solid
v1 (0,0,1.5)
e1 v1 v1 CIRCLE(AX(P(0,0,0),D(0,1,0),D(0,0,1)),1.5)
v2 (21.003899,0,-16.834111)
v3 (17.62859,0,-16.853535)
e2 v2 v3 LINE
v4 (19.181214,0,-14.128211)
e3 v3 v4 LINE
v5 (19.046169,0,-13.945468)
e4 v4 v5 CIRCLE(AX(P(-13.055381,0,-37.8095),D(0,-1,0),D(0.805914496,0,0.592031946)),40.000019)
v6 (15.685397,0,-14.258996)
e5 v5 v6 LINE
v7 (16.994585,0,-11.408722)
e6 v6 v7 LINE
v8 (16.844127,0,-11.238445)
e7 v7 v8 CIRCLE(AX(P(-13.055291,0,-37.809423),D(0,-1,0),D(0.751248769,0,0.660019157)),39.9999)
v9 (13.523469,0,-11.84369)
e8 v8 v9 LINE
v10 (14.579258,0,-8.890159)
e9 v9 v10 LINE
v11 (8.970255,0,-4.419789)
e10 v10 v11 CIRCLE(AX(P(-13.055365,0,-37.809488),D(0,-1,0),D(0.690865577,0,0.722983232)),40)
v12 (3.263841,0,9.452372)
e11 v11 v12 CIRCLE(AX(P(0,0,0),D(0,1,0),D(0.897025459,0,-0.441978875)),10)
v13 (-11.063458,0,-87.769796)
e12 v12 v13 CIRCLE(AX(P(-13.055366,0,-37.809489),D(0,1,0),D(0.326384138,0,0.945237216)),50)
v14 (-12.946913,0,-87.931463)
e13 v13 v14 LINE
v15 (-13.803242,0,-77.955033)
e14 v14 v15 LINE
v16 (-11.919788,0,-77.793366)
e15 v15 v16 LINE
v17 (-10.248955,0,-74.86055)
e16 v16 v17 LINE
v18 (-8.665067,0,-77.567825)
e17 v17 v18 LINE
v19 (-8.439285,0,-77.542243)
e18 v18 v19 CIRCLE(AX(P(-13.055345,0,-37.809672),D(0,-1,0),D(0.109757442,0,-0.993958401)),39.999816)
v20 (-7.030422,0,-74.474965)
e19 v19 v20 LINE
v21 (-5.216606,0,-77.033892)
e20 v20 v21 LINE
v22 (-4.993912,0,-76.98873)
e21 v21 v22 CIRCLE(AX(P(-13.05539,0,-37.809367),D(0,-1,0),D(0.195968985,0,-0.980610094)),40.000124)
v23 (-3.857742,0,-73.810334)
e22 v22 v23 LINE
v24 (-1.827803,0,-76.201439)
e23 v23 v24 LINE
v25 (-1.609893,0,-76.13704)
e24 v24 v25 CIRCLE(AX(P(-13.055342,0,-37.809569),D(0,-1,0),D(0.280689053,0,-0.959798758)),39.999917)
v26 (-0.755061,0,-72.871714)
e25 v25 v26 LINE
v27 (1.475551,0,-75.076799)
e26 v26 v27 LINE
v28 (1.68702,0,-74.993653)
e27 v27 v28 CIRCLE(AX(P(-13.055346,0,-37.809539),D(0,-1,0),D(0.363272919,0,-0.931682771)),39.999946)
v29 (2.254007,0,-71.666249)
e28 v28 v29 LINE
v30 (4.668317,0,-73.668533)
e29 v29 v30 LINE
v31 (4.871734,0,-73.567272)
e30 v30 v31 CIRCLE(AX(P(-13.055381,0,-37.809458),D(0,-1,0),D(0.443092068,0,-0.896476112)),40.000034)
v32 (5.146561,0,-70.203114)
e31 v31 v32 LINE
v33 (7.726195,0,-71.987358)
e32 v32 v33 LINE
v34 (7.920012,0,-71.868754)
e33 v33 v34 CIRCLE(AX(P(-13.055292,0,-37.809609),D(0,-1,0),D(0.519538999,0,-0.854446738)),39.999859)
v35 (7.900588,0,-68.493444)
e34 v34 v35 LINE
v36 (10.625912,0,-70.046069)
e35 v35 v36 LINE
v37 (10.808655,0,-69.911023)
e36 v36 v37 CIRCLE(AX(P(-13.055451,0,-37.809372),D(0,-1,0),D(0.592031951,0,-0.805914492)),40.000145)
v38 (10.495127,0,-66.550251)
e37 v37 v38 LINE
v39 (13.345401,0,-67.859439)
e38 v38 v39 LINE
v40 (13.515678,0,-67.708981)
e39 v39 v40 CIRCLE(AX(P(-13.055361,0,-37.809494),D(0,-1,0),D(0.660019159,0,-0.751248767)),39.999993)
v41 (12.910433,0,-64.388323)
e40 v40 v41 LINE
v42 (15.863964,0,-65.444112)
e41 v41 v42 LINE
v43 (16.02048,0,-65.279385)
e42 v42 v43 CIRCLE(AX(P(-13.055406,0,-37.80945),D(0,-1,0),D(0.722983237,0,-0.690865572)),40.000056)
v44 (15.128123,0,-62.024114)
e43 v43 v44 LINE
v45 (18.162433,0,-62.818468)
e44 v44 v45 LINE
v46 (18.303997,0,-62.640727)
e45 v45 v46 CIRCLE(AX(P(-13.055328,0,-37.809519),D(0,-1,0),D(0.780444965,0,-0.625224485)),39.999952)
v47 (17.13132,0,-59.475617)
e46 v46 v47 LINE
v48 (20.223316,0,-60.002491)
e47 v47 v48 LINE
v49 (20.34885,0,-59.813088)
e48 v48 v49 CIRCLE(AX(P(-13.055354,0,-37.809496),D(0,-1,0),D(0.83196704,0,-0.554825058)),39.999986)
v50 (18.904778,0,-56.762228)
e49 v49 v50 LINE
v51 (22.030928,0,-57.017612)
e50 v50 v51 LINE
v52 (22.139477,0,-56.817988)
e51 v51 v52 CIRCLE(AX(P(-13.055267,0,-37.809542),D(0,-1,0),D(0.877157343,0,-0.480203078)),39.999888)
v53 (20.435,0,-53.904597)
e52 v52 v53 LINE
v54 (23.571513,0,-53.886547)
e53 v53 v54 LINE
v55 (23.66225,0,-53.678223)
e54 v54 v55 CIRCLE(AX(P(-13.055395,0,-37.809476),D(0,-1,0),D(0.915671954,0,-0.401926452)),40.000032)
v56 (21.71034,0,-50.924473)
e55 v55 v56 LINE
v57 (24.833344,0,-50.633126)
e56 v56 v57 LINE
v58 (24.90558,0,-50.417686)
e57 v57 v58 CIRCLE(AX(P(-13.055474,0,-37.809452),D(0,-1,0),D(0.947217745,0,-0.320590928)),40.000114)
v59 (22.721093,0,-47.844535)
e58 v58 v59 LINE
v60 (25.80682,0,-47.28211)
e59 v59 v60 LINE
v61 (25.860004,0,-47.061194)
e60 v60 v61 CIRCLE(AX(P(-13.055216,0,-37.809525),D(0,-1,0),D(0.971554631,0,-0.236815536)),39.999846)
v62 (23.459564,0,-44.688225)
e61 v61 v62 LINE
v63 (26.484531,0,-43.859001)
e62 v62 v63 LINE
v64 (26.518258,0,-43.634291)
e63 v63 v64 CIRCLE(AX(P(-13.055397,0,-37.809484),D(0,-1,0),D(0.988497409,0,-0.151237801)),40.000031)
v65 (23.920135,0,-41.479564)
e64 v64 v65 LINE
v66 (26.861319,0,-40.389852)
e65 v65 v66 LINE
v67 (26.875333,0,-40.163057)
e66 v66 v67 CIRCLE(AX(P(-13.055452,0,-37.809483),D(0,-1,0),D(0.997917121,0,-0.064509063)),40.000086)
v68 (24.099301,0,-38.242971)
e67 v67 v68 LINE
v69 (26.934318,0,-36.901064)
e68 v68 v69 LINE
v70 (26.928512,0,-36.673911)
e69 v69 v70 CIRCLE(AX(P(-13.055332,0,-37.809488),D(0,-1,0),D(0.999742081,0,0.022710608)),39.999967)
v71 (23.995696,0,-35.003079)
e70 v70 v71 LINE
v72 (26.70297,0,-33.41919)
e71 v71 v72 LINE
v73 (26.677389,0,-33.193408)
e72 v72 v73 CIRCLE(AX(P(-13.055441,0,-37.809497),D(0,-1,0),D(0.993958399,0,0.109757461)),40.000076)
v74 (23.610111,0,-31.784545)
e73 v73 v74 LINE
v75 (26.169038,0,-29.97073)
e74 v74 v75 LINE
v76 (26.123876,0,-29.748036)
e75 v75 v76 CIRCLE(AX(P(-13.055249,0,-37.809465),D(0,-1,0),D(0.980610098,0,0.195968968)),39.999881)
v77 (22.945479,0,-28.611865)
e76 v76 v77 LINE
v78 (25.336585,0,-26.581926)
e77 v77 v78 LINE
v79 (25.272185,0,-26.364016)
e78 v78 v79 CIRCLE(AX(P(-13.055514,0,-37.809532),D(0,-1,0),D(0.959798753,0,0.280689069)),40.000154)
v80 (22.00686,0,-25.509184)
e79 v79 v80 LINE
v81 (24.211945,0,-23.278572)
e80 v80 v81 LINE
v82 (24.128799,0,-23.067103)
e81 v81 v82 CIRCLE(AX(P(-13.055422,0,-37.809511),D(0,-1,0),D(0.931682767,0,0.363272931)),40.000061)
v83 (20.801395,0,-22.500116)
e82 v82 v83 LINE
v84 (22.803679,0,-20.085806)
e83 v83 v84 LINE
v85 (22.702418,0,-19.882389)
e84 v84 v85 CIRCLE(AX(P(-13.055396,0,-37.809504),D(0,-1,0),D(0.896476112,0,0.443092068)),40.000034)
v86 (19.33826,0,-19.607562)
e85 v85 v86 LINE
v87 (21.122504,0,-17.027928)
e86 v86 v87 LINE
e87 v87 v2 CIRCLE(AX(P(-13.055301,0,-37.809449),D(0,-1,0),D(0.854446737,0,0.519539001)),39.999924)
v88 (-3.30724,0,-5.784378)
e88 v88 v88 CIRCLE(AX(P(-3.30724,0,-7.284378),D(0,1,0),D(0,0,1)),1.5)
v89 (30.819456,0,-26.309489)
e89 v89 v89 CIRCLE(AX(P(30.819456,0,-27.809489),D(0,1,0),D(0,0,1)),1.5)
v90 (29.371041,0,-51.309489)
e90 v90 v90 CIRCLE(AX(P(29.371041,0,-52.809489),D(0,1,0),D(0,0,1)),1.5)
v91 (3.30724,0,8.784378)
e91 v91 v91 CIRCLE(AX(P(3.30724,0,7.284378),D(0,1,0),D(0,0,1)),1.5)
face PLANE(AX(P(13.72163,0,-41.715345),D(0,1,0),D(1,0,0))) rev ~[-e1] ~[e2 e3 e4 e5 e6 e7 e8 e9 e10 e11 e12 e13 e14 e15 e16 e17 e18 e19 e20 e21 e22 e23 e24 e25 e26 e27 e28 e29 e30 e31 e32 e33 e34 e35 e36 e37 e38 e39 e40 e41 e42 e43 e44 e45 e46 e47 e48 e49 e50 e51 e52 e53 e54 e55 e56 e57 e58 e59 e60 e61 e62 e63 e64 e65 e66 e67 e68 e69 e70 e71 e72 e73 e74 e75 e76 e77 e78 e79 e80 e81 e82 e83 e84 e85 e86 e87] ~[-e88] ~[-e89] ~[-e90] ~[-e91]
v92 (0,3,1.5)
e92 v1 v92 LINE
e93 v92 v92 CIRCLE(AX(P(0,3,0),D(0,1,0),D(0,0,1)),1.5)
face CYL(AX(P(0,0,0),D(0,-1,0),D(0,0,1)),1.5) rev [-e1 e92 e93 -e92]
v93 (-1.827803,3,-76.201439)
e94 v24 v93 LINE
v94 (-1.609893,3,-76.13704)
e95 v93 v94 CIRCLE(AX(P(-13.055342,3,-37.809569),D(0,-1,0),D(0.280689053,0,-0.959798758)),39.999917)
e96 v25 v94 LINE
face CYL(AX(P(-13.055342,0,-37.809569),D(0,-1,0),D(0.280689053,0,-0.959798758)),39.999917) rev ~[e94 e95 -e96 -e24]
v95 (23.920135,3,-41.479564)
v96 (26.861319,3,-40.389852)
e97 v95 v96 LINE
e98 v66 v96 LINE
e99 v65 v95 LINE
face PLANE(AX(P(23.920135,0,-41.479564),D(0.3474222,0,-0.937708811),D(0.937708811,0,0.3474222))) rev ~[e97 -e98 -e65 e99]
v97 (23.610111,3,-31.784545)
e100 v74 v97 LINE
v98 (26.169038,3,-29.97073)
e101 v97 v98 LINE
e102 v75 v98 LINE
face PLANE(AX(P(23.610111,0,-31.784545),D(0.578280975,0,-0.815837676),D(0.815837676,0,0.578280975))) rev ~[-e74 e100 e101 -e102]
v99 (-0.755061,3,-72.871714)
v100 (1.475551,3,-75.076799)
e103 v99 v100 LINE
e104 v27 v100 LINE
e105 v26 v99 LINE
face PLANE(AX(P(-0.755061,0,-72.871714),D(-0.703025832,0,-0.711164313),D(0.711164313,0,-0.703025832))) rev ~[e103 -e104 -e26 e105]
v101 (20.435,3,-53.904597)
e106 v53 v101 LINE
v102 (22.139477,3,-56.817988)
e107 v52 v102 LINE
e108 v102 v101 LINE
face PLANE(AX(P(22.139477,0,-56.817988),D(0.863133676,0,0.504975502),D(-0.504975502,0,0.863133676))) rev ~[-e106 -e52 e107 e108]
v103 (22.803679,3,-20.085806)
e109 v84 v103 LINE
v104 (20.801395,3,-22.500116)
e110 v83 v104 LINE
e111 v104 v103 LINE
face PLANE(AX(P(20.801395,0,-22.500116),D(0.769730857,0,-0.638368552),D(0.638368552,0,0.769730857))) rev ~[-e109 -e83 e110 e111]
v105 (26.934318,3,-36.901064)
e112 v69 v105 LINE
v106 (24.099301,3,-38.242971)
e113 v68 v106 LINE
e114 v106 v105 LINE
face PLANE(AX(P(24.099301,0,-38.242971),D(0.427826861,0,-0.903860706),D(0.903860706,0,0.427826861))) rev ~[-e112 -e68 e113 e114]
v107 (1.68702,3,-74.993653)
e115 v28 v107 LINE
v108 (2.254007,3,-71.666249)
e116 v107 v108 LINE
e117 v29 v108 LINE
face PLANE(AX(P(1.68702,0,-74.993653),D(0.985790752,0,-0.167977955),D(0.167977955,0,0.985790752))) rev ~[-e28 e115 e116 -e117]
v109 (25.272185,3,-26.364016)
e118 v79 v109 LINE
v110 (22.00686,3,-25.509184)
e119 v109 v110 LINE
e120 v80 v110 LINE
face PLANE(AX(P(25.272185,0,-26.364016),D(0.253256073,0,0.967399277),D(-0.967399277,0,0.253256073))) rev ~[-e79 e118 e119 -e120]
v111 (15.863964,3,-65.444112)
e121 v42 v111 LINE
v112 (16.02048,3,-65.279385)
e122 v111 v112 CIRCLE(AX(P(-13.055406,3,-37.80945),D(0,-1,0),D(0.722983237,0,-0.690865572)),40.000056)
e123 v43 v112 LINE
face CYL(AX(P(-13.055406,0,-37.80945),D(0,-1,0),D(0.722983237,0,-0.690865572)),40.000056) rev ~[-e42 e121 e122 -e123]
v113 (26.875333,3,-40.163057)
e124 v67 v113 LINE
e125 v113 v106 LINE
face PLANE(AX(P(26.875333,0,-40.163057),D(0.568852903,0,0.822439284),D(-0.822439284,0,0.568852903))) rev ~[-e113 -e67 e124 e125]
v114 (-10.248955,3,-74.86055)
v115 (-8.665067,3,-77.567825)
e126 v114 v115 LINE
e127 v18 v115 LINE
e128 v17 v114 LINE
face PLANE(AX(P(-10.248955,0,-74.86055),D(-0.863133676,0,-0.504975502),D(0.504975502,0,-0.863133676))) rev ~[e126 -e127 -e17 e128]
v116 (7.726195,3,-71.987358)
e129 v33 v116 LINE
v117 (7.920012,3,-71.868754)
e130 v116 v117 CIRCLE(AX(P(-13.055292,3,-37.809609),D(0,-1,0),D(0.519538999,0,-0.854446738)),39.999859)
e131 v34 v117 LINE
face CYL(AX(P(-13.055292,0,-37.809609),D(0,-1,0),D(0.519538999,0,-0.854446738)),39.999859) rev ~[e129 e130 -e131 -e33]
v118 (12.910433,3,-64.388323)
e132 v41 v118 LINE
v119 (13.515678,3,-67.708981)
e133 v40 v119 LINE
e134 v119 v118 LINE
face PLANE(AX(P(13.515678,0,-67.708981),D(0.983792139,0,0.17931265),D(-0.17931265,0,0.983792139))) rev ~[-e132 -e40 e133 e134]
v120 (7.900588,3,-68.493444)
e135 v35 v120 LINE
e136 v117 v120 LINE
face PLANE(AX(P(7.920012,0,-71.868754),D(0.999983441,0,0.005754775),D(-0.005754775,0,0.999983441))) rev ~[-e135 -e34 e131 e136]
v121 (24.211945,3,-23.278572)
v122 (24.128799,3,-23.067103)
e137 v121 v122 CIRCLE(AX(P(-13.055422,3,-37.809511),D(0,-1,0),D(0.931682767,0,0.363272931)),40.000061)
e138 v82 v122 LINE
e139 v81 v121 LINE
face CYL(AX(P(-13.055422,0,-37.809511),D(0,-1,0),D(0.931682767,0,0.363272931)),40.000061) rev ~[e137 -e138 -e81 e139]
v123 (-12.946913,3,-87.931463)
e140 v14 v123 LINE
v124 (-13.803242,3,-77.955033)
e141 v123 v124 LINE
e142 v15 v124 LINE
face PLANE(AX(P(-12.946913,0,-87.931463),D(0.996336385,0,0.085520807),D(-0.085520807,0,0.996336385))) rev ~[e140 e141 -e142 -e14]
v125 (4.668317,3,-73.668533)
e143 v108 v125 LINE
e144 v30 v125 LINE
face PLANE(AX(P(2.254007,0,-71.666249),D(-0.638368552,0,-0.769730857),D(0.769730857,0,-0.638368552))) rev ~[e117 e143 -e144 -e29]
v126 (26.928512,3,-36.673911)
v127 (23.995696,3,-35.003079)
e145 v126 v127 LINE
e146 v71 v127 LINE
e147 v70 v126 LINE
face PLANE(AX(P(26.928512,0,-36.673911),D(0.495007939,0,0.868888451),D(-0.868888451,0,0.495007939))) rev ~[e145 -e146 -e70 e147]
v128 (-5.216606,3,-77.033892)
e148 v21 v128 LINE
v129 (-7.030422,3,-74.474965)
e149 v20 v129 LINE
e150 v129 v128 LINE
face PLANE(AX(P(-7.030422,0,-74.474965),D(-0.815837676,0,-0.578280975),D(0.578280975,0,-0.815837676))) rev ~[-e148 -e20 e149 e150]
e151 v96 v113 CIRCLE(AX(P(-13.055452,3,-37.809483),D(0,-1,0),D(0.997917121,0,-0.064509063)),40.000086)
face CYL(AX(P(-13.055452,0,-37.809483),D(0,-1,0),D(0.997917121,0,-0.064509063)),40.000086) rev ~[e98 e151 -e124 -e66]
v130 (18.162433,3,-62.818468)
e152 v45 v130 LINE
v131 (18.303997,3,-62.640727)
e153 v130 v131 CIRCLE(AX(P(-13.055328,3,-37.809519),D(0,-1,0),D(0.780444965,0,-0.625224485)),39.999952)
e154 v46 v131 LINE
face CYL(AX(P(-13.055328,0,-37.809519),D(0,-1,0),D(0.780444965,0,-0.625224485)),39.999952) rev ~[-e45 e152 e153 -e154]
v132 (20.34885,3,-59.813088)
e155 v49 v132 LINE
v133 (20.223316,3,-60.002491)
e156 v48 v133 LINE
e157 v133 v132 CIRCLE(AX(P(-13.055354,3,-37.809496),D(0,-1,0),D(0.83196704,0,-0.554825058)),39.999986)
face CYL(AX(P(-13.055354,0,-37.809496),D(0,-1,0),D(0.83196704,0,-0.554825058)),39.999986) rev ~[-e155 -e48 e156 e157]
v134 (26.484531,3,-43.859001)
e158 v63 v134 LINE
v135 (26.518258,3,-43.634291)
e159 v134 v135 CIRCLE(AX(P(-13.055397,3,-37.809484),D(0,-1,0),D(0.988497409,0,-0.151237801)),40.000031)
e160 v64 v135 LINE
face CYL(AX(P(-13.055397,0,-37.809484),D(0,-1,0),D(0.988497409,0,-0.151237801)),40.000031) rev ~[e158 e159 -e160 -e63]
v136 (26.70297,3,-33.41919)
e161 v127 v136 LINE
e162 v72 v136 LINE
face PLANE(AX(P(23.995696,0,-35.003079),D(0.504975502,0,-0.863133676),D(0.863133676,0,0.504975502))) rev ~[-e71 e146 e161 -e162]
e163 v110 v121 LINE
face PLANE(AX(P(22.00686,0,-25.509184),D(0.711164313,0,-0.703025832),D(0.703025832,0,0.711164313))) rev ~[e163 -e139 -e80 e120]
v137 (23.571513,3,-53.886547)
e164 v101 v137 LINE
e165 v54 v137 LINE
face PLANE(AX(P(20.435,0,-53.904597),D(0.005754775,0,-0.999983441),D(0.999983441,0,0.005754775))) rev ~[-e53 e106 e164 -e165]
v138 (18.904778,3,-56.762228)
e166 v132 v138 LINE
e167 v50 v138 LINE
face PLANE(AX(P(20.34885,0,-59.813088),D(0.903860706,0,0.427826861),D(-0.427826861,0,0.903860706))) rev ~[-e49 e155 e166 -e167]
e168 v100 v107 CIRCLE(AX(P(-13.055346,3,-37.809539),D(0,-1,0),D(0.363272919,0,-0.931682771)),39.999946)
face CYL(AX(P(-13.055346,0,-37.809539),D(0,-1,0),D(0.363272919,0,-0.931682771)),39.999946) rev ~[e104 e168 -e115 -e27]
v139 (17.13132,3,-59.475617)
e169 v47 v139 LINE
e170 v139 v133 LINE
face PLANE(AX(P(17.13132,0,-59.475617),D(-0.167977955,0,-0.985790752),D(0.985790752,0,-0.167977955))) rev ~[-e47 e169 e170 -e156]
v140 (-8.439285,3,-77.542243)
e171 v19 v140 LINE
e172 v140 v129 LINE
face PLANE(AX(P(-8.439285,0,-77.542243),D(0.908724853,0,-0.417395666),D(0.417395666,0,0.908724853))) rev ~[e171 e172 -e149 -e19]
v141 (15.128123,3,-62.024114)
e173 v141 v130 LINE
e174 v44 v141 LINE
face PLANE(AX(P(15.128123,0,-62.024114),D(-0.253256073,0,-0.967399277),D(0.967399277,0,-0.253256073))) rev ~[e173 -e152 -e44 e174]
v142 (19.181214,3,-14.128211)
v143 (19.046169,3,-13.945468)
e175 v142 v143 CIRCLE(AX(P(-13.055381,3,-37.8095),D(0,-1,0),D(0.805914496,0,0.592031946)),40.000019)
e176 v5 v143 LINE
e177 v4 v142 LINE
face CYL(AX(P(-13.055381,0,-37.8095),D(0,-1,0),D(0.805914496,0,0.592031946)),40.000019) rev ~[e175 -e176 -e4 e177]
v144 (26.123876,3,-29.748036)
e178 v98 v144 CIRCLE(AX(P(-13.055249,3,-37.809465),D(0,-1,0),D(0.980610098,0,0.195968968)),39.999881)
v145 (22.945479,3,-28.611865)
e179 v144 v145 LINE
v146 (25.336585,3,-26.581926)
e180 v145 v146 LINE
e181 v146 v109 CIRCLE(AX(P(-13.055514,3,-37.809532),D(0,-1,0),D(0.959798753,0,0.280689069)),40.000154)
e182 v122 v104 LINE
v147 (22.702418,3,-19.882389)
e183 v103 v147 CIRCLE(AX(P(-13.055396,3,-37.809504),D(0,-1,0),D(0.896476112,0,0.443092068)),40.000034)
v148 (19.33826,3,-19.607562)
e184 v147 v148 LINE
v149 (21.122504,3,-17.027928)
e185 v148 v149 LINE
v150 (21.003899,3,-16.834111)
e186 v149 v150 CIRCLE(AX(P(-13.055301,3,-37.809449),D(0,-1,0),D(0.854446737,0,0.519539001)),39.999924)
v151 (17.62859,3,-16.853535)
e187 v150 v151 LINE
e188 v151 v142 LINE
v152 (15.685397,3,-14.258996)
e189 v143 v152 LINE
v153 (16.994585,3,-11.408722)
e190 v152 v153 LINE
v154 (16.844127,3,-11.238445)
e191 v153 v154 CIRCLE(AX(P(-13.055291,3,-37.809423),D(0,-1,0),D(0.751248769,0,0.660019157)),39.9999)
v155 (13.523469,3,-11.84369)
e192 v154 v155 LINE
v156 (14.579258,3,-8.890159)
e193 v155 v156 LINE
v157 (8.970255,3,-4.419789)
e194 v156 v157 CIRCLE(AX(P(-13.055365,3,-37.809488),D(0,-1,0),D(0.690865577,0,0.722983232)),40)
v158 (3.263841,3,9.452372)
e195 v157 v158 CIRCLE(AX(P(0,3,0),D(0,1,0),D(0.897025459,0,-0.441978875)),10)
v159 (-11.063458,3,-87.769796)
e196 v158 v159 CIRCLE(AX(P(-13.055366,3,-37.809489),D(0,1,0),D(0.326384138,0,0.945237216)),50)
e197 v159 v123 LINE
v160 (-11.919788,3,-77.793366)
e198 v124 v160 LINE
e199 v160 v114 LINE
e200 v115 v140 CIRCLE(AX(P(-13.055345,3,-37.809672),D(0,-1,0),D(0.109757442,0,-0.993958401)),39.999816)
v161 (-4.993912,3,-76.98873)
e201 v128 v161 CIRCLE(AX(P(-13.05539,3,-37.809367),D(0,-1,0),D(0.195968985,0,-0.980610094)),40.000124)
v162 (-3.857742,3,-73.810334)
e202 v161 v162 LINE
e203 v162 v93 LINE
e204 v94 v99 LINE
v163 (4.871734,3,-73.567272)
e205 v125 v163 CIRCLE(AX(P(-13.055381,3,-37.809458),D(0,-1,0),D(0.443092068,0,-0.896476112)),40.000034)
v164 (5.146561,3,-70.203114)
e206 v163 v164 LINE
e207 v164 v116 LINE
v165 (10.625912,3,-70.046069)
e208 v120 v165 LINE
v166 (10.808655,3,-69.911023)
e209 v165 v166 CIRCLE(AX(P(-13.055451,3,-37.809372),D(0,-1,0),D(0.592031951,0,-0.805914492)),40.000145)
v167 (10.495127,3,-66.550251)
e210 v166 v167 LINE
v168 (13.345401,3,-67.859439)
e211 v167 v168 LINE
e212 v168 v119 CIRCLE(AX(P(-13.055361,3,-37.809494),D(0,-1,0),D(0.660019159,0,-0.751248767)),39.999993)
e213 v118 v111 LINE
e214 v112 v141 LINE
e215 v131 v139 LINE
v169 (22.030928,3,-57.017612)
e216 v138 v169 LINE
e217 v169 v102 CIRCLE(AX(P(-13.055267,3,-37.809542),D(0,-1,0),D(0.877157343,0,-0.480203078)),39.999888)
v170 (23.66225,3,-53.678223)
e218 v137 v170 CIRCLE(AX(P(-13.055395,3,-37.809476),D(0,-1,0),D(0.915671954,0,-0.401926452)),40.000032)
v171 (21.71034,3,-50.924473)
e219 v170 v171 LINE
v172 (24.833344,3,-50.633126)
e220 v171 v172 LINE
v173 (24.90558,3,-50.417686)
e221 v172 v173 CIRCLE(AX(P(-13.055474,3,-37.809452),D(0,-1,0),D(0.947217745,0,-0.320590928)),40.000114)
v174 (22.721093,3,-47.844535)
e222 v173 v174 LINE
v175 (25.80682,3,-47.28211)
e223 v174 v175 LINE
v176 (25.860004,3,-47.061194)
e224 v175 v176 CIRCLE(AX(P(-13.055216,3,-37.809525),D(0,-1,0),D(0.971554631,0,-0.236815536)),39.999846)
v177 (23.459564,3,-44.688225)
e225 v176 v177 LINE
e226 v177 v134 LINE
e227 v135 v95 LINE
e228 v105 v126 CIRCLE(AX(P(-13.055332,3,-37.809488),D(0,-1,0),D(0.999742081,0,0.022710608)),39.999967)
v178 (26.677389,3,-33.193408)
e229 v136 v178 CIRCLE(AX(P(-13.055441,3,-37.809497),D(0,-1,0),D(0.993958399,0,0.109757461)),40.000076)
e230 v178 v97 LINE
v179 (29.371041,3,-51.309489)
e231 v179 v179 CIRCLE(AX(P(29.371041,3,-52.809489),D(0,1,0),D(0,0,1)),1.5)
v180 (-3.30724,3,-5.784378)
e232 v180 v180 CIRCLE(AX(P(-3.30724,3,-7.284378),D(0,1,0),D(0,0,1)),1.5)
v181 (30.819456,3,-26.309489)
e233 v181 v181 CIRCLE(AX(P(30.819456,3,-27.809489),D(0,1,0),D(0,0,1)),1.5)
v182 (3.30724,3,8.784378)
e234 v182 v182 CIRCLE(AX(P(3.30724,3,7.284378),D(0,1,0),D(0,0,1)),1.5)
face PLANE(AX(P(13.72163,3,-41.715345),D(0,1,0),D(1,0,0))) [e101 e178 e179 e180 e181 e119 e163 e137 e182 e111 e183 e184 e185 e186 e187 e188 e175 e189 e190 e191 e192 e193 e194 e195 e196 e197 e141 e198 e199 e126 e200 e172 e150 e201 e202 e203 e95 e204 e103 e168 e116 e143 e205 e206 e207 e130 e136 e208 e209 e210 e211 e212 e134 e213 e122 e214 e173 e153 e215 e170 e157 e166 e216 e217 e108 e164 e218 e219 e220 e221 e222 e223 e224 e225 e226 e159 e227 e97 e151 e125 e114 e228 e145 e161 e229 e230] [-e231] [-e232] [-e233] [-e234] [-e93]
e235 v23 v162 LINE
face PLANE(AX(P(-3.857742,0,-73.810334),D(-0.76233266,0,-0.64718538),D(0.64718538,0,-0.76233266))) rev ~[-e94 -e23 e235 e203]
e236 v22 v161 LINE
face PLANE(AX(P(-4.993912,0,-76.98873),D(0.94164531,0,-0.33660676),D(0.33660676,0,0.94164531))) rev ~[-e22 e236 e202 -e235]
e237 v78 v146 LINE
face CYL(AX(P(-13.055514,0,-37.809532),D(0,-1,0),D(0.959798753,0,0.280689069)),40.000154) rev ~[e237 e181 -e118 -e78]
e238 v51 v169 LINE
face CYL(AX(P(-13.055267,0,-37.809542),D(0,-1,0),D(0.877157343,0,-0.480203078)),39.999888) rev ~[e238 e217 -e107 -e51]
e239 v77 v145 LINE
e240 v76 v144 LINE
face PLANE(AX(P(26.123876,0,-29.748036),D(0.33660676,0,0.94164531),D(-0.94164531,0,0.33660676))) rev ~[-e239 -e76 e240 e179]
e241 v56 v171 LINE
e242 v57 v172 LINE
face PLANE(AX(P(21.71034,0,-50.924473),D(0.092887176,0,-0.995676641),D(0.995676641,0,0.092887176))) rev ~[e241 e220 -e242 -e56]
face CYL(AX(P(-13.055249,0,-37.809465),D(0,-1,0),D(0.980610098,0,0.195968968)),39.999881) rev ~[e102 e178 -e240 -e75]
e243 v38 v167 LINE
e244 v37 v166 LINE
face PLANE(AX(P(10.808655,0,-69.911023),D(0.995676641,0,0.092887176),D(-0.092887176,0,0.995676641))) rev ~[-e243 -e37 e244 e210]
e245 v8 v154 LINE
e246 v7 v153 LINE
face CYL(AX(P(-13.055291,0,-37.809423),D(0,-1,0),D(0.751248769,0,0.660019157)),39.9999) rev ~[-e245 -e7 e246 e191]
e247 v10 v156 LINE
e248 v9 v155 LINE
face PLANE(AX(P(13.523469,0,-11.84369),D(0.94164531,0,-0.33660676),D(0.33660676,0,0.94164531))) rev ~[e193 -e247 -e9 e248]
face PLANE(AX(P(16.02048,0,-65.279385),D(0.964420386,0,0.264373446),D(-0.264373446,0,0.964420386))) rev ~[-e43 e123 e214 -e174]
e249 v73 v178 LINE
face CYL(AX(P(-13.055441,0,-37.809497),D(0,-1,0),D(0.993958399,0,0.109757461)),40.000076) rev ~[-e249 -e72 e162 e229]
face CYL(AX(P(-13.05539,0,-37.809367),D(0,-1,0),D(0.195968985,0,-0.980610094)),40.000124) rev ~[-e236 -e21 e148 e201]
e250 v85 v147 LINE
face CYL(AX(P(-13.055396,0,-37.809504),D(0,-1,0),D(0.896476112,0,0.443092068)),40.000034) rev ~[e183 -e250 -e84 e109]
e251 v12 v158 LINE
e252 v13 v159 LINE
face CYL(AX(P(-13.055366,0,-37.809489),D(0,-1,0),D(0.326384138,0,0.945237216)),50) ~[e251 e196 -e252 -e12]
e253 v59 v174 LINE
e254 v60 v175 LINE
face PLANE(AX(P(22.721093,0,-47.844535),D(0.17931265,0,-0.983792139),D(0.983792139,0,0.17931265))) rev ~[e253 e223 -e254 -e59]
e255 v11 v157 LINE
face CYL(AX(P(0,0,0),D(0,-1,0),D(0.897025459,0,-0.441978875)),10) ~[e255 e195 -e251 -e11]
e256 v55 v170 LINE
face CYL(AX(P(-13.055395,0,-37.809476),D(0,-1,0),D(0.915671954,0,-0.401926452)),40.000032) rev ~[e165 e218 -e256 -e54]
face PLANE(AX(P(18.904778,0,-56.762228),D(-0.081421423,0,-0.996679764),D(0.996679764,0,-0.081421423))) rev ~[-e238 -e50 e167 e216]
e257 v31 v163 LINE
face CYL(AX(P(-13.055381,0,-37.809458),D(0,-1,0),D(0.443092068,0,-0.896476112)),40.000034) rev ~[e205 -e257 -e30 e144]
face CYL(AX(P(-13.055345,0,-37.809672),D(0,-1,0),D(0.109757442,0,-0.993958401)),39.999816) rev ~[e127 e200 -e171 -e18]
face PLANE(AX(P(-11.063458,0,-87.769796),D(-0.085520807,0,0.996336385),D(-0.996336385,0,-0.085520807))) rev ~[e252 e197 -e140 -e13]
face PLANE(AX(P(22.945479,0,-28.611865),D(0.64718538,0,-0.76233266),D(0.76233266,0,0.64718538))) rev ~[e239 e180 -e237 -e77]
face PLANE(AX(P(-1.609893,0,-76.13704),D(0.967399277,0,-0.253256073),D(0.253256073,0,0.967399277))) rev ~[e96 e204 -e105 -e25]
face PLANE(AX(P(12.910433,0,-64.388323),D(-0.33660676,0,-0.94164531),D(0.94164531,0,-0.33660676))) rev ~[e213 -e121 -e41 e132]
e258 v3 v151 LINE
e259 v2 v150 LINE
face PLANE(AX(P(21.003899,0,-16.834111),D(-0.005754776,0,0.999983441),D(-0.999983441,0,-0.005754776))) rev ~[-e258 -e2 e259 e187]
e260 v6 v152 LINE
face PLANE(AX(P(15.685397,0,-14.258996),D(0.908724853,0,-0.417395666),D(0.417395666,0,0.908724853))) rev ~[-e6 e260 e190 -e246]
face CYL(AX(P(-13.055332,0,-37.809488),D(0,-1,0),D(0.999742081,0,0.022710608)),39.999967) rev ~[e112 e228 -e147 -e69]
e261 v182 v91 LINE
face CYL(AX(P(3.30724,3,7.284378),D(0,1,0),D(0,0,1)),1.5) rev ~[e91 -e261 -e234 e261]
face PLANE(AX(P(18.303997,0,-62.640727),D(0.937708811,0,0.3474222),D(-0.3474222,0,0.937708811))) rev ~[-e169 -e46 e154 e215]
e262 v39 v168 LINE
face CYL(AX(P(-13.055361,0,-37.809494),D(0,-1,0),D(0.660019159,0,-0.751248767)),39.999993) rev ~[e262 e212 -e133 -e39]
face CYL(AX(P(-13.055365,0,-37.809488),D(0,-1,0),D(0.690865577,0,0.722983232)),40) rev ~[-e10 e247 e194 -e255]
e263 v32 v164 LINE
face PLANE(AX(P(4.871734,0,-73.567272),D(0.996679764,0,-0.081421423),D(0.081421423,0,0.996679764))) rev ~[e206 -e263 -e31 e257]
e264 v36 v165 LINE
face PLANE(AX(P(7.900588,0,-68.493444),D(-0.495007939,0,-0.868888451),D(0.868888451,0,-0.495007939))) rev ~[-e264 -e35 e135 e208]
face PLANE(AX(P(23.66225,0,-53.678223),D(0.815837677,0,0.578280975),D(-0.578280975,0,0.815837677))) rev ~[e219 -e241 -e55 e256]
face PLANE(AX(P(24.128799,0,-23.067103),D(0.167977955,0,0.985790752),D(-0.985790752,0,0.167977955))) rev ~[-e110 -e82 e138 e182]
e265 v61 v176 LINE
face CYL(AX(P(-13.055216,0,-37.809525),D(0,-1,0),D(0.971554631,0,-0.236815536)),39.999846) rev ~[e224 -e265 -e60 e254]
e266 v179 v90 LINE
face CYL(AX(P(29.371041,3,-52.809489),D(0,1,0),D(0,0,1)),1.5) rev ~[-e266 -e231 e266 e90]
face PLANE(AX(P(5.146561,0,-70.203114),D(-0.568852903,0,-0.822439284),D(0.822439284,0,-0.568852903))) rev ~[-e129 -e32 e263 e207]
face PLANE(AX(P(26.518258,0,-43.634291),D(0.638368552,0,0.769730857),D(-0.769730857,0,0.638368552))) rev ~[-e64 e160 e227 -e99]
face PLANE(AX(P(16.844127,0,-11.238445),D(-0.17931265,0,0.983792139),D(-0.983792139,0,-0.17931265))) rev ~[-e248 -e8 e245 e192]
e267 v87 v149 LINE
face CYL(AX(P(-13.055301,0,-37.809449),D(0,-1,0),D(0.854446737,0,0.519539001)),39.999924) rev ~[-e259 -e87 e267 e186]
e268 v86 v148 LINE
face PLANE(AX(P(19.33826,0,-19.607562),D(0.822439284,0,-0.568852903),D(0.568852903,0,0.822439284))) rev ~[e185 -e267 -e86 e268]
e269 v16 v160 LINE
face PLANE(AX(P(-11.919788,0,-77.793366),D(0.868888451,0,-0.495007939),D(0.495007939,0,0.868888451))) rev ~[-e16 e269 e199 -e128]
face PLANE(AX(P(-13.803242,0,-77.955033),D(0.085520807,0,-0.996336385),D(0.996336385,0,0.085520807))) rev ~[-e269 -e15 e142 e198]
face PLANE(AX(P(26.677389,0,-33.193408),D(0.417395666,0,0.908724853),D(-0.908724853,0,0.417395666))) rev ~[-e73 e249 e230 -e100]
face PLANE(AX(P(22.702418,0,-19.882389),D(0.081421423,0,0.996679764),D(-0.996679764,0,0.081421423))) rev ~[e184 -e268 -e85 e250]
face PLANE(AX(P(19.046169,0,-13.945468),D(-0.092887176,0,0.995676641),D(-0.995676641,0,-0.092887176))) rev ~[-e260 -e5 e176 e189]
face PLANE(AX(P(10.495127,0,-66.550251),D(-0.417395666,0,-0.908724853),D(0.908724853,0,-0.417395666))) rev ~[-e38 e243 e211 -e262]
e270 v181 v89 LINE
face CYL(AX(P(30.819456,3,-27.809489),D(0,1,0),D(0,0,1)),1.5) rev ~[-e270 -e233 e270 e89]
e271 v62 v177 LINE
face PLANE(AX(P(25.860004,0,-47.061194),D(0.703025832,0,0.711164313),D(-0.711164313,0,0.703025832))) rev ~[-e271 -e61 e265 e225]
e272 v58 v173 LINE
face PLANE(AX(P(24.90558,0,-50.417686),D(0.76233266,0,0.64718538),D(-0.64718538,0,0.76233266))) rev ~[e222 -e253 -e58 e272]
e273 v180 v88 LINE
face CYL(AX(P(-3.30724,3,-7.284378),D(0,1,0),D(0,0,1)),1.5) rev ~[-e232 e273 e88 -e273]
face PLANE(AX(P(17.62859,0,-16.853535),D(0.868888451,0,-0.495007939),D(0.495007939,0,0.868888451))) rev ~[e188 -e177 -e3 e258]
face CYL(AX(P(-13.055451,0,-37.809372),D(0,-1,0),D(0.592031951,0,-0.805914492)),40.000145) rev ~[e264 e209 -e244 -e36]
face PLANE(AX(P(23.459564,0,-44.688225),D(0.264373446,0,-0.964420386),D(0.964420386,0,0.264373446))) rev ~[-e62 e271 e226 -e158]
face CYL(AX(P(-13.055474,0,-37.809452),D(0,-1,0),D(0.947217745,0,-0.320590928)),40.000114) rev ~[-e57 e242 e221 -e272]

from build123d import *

# Parameters (mm, degrees)
SKETCH_1_R          = 1.5
EXTRUDE_1_DEPTH     = 3
SKETCH_2_R          = 1.5
CUT_EXTRUDE_1_DEPTH = 35
SKETCH_3_R          = 1.5
CUT_EXTRUDE_2_DEPTH = 10


with BuildPart() as part:
    # 草图1 → 凸台-拉伸1 (new body)
    with BuildSketch(Plane(origin=(0, 0, 0), x_dir=(1, 0, 0), z_dir=(0, 1, 0))):
        with BuildLine():
            Line((-11.919787954, 77.793366188), (-10.248955421, 74.860550413))
            Line((-10.248955421, 74.860550413), (-8.665067312, 77.567824645))
            ThreePointArc((-8.665067312, 77.567824645), (-8.552157803, 77.555194327), (-8.439284624, 77.542243357))
            Line((-8.439284624, 77.542243357), (-7.03042185, 74.474965181))
            Line((-7.03042185, 74.474965181), (-5.216606417, 77.033892473))
            ThreePointArc((-5.216606417, 77.033892473), (-5.105227368, 77.011469504), (-4.993912457, 76.988730272))
            Line((-4.993912457, 76.988730272), (-3.857741739, 73.810333533))
            Line((-3.857741739, 73.810333533), (-1.827803212, 76.201438903))
            ThreePointArc((-1.827803212, 76.201438903), (-1.718802284, 76.169393937), (-1.609892815, 76.1370395))
            Line((-1.609892815, 76.1370395), (-0.755061098, 72.871713718))
            Line((-0.755061098, 72.871713718), (1.475551464, 75.07679941))
            ThreePointArc((1.475551464, 75.07679941), (1.581344708, 75.035376328), (1.687019869, 74.993652924))
            Line((1.687019869, 74.993652924), (2.254006799, 71.666249199))
            Line((2.254006799, 71.666249199), (4.668317088, 73.66853318))
            ThreePointArc((4.668317088, 73.66853318), (4.770097497, 73.618047236), (4.871734098, 73.567272405))
            Line((4.871734098, 73.567272405), (5.146561129, 70.203114289))
            Line((5.146561129, 70.203114289), (7.726194786, 71.987357968))
            ThreePointArc((7.726194786, 71.987357968), (7.82318775, 71.928193392), (7.920012274, 71.868753561))
            Line((7.920012274, 71.868753561), (7.900587806, 68.493444328))
            Line((7.900587806, 68.493444328), (10.625912261, 70.046068534))
            ThreePointArc((10.625912261, 70.046068534), (10.717379605, 69.978675602), (10.808655161, 69.911023145))
            Line((10.808655161, 69.911023145), (10.495127025, 66.550250936))
            Line((10.495127025, 66.550250936), (13.345400914, 67.859439261))
            ThreePointArc((13.345400914, 67.859439261), (13.430646516, 67.784330876), (13.51567844, 67.708980668))
            Line((13.51567844, 67.708980668), (12.910432776, 64.38832299))
            Line((12.910432776, 64.38832299), (15.863963793, 65.44411172))
            ThreePointArc((15.863963793, 65.44411172), (15.942338882, 65.361859501), (16.020480031, 65.279385002))
            Line((16.020480031, 65.279385002), (15.128123123, 62.024114065))
            Line((15.128123123, 62.024114065), (18.162433114, 62.818468011))
            ThreePointArc((18.162433114, 62.818468011), (18.233341209, 62.729697948), (18.303996881, 62.640726839))
            Line((18.303996881, 62.640726839), (17.131320104, 59.47561722))
            Line((17.131320104, 59.47561722), (20.223316137, 60.002490868))
            ThreePointArc((20.223316137, 60.002490868), (20.286217585, 59.907878554), (20.348850048, 59.81308796))
            Line((20.348850048, 59.81308796), (18.90477818, 56.762228053))
            Line((18.90477818, 56.762228053), (22.030928299, 57.017611578))
            ThreePointArc((22.030928299, 57.017611578), (22.085344382, 56.917877069), (22.139476964, 56.817988403))
            Line((22.139476964, 56.817988403), (20.435000265, 53.904597096))
            Line((20.435000265, 53.904597096), (23.57151258, 53.886546873))
            ThreePointArc((23.57151258, 53.886546873), (23.617029157, 53.782449211), (23.662249878, 53.678222686))
            Line((23.662249878, 53.678222686), (21.710340444, 50.924472645))
            Line((21.710340444, 50.924472645), (24.833344202, 50.633126049))
            ThreePointArc((24.833344202, 50.633126049), (24.869614866, 50.525457478), (24.905579569, 50.417686321))
            Line((24.905579569, 50.417686321), (22.721092609, 47.844535247))
            Line((22.721092609, 47.844535247), (25.806819865, 47.2821096))
            ThreePointArc((25.806819865, 47.2821096), (25.833568575, 47.171689544), (25.860003545, 47.061193959))
            Line((25.860003545, 47.061193959), (23.459564325, 44.688225085))
            Line((23.459564325, 44.688225085), (26.484530833, 43.859000786))
            ThreePointArc((26.484530833, 43.859000786), (26.501554013, 43.746669609), (26.518258066, 43.634290532))
            Line((26.518258066, 43.634290532), (23.920135376, 41.479563585))
            Line((23.920135376, 41.479563585), (26.861319314, 40.389851532))
            ThreePointArc((26.861319314, 40.389851532), (26.868487408, 40.276464141), (26.875333415, 40.163056847))
            Line((26.875333415, 40.163056847), (24.09930054, 38.242970598))
            Line((24.09930054, 38.242970598), (26.934317721, 36.901064158))
            ThreePointArc((26.934317721, 36.901064158), (26.931576177, 36.7874835), (26.928512036, 36.673911086))
            Line((26.928512036, 36.673911086), (23.99569626, 35.003078552))
            Line((23.99569626, 35.003078552), (26.702970493, 33.419190443))
            ThreePointArc((26.702970493, 33.419190443), (26.690340174, 33.306280935), (26.677389205, 33.193407756))
            Line((26.677389205, 33.193407756), (23.610111028, 31.784544982))
            Line((23.610111028, 31.784544982), (26.16903832, 29.970729549))
            ThreePointArc((26.16903832, 29.970729549), (26.146615352, 29.8593505), (26.123876119, 29.748035589))
            Line((26.123876119, 29.748035589), (22.945479381, 28.611864871))
            Line((22.945479381, 28.611864871), (25.336584751, 26.581926344))
            ThreePointArc((25.336584751, 26.581926344), (25.304539784, 26.472925416), (25.272185348, 26.364015947))
            Line((25.272185348, 26.364015947), (22.006859566, 25.50918423))
            Line((22.006859566, 25.50918423), (24.211945258, 23.278571668))
            ThreePointArc((24.211945258, 23.278571668), (24.170522175, 23.172778424), (24.128798771, 23.067103263))
            Line((24.128798771, 23.067103263), (20.801395047, 22.500116333))
            Line((20.801395047, 22.500116333), (22.803679027, 20.085806044))
            ThreePointArc((22.803679027, 20.085806044), (22.753193083, 19.984025635), (22.702418252, 19.882389034))
            Line((22.702418252, 19.882389034), (19.338260136, 19.607562003))
            Line((19.338260136, 19.607562003), (21.122503815, 17.027928346))
            ThreePointArc((21.122503815, 17.027928346), (21.063339239, 16.930935382), (21.003899408, 16.834110857))
            Line((21.003899408, 16.834110857), (17.628590175, 16.853535326))
            Line((17.628590175, 16.853535326), (19.181214381, 14.12821087))
            ThreePointArc((19.181214381, 14.12821087), (19.11382145, 14.036743527), (19.046168992, 13.945467971))
            Line((19.046168992, 13.945467971), (15.685396784, 14.258996107))
            Line((15.685396784, 14.258996107), (16.994585109, 11.408722218))
            ThreePointArc((16.994585109, 11.408722218), (16.919476724, 11.323476616), (16.844126515, 11.238444692))
            Line((16.844126515, 11.238444692), (13.523468837, 11.843690356))
            Line((13.523468837, 11.843690356), (14.579257567, 8.890159339))
            ThreePointArc((14.579257567, 8.890159339), (11.875157779, 6.528999379), (8.970254591, 4.419788747))
            ThreePointArc((8.970254591, 4.419788747), (-9.248107271, 3.804275476), (3.263841378, -9.452372161))
            ThreePointArc((3.263841378, -9.452372161), (36.41039757, 45.099089654), (-11.063458372, 87.769795947))
            Line((-11.063458372, 87.769795947), (-12.946912918, 87.931462784))
            Line((-12.946912918, 87.931462784), (-13.8032425, 77.955033025))
            Line((-13.8032425, 77.955033025), (-11.919787954, 77.793366188))
        make_face()
        with Locations(Location((0, 0, 0), (0, 0, 270))):
            Circle(SKETCH_1_R, mode=Mode.SUBTRACT)
    extrude(amount=EXTRUDE_1_DEPTH)

    # 草图2 → 切除-拉伸1 (cut)
    with BuildSketch(Plane(origin=(0, 3, 0), x_dir=(1, 0, 0), z_dir=(0, 1, 0))):
        with Locations(Location((-3.307239505, 7.284378275, 0), (0, 0, 270))):
            Circle(SKETCH_2_R)
        with Locations(Location((3.307239505, -7.284378275, 0), (0, 0, 270))):
            Circle(SKETCH_2_R)
    extrude(amount=-CUT_EXTRUDE_1_DEPTH, mode=Mode.SUBTRACT)

    # 草图3 → 切除-拉伸2 (cut)
    with BuildSketch(Plane(origin=(0, 3, 0), x_dir=(1, 0, 0), z_dir=(0, 1, 0))):
        with Locations(Location((30.819456427, 27.809488642, 0), (0, 0, 270))):
            Circle(SKETCH_3_R)
        with Locations(Location((29.371041361, 52.809488642, 0), (0, 0, 270))):
            Circle(SKETCH_3_R)
    extrude(amount=-CUT_EXTRUDE_2_DEPTH, mode=Mode.SUBTRACT)


solid = part.part
